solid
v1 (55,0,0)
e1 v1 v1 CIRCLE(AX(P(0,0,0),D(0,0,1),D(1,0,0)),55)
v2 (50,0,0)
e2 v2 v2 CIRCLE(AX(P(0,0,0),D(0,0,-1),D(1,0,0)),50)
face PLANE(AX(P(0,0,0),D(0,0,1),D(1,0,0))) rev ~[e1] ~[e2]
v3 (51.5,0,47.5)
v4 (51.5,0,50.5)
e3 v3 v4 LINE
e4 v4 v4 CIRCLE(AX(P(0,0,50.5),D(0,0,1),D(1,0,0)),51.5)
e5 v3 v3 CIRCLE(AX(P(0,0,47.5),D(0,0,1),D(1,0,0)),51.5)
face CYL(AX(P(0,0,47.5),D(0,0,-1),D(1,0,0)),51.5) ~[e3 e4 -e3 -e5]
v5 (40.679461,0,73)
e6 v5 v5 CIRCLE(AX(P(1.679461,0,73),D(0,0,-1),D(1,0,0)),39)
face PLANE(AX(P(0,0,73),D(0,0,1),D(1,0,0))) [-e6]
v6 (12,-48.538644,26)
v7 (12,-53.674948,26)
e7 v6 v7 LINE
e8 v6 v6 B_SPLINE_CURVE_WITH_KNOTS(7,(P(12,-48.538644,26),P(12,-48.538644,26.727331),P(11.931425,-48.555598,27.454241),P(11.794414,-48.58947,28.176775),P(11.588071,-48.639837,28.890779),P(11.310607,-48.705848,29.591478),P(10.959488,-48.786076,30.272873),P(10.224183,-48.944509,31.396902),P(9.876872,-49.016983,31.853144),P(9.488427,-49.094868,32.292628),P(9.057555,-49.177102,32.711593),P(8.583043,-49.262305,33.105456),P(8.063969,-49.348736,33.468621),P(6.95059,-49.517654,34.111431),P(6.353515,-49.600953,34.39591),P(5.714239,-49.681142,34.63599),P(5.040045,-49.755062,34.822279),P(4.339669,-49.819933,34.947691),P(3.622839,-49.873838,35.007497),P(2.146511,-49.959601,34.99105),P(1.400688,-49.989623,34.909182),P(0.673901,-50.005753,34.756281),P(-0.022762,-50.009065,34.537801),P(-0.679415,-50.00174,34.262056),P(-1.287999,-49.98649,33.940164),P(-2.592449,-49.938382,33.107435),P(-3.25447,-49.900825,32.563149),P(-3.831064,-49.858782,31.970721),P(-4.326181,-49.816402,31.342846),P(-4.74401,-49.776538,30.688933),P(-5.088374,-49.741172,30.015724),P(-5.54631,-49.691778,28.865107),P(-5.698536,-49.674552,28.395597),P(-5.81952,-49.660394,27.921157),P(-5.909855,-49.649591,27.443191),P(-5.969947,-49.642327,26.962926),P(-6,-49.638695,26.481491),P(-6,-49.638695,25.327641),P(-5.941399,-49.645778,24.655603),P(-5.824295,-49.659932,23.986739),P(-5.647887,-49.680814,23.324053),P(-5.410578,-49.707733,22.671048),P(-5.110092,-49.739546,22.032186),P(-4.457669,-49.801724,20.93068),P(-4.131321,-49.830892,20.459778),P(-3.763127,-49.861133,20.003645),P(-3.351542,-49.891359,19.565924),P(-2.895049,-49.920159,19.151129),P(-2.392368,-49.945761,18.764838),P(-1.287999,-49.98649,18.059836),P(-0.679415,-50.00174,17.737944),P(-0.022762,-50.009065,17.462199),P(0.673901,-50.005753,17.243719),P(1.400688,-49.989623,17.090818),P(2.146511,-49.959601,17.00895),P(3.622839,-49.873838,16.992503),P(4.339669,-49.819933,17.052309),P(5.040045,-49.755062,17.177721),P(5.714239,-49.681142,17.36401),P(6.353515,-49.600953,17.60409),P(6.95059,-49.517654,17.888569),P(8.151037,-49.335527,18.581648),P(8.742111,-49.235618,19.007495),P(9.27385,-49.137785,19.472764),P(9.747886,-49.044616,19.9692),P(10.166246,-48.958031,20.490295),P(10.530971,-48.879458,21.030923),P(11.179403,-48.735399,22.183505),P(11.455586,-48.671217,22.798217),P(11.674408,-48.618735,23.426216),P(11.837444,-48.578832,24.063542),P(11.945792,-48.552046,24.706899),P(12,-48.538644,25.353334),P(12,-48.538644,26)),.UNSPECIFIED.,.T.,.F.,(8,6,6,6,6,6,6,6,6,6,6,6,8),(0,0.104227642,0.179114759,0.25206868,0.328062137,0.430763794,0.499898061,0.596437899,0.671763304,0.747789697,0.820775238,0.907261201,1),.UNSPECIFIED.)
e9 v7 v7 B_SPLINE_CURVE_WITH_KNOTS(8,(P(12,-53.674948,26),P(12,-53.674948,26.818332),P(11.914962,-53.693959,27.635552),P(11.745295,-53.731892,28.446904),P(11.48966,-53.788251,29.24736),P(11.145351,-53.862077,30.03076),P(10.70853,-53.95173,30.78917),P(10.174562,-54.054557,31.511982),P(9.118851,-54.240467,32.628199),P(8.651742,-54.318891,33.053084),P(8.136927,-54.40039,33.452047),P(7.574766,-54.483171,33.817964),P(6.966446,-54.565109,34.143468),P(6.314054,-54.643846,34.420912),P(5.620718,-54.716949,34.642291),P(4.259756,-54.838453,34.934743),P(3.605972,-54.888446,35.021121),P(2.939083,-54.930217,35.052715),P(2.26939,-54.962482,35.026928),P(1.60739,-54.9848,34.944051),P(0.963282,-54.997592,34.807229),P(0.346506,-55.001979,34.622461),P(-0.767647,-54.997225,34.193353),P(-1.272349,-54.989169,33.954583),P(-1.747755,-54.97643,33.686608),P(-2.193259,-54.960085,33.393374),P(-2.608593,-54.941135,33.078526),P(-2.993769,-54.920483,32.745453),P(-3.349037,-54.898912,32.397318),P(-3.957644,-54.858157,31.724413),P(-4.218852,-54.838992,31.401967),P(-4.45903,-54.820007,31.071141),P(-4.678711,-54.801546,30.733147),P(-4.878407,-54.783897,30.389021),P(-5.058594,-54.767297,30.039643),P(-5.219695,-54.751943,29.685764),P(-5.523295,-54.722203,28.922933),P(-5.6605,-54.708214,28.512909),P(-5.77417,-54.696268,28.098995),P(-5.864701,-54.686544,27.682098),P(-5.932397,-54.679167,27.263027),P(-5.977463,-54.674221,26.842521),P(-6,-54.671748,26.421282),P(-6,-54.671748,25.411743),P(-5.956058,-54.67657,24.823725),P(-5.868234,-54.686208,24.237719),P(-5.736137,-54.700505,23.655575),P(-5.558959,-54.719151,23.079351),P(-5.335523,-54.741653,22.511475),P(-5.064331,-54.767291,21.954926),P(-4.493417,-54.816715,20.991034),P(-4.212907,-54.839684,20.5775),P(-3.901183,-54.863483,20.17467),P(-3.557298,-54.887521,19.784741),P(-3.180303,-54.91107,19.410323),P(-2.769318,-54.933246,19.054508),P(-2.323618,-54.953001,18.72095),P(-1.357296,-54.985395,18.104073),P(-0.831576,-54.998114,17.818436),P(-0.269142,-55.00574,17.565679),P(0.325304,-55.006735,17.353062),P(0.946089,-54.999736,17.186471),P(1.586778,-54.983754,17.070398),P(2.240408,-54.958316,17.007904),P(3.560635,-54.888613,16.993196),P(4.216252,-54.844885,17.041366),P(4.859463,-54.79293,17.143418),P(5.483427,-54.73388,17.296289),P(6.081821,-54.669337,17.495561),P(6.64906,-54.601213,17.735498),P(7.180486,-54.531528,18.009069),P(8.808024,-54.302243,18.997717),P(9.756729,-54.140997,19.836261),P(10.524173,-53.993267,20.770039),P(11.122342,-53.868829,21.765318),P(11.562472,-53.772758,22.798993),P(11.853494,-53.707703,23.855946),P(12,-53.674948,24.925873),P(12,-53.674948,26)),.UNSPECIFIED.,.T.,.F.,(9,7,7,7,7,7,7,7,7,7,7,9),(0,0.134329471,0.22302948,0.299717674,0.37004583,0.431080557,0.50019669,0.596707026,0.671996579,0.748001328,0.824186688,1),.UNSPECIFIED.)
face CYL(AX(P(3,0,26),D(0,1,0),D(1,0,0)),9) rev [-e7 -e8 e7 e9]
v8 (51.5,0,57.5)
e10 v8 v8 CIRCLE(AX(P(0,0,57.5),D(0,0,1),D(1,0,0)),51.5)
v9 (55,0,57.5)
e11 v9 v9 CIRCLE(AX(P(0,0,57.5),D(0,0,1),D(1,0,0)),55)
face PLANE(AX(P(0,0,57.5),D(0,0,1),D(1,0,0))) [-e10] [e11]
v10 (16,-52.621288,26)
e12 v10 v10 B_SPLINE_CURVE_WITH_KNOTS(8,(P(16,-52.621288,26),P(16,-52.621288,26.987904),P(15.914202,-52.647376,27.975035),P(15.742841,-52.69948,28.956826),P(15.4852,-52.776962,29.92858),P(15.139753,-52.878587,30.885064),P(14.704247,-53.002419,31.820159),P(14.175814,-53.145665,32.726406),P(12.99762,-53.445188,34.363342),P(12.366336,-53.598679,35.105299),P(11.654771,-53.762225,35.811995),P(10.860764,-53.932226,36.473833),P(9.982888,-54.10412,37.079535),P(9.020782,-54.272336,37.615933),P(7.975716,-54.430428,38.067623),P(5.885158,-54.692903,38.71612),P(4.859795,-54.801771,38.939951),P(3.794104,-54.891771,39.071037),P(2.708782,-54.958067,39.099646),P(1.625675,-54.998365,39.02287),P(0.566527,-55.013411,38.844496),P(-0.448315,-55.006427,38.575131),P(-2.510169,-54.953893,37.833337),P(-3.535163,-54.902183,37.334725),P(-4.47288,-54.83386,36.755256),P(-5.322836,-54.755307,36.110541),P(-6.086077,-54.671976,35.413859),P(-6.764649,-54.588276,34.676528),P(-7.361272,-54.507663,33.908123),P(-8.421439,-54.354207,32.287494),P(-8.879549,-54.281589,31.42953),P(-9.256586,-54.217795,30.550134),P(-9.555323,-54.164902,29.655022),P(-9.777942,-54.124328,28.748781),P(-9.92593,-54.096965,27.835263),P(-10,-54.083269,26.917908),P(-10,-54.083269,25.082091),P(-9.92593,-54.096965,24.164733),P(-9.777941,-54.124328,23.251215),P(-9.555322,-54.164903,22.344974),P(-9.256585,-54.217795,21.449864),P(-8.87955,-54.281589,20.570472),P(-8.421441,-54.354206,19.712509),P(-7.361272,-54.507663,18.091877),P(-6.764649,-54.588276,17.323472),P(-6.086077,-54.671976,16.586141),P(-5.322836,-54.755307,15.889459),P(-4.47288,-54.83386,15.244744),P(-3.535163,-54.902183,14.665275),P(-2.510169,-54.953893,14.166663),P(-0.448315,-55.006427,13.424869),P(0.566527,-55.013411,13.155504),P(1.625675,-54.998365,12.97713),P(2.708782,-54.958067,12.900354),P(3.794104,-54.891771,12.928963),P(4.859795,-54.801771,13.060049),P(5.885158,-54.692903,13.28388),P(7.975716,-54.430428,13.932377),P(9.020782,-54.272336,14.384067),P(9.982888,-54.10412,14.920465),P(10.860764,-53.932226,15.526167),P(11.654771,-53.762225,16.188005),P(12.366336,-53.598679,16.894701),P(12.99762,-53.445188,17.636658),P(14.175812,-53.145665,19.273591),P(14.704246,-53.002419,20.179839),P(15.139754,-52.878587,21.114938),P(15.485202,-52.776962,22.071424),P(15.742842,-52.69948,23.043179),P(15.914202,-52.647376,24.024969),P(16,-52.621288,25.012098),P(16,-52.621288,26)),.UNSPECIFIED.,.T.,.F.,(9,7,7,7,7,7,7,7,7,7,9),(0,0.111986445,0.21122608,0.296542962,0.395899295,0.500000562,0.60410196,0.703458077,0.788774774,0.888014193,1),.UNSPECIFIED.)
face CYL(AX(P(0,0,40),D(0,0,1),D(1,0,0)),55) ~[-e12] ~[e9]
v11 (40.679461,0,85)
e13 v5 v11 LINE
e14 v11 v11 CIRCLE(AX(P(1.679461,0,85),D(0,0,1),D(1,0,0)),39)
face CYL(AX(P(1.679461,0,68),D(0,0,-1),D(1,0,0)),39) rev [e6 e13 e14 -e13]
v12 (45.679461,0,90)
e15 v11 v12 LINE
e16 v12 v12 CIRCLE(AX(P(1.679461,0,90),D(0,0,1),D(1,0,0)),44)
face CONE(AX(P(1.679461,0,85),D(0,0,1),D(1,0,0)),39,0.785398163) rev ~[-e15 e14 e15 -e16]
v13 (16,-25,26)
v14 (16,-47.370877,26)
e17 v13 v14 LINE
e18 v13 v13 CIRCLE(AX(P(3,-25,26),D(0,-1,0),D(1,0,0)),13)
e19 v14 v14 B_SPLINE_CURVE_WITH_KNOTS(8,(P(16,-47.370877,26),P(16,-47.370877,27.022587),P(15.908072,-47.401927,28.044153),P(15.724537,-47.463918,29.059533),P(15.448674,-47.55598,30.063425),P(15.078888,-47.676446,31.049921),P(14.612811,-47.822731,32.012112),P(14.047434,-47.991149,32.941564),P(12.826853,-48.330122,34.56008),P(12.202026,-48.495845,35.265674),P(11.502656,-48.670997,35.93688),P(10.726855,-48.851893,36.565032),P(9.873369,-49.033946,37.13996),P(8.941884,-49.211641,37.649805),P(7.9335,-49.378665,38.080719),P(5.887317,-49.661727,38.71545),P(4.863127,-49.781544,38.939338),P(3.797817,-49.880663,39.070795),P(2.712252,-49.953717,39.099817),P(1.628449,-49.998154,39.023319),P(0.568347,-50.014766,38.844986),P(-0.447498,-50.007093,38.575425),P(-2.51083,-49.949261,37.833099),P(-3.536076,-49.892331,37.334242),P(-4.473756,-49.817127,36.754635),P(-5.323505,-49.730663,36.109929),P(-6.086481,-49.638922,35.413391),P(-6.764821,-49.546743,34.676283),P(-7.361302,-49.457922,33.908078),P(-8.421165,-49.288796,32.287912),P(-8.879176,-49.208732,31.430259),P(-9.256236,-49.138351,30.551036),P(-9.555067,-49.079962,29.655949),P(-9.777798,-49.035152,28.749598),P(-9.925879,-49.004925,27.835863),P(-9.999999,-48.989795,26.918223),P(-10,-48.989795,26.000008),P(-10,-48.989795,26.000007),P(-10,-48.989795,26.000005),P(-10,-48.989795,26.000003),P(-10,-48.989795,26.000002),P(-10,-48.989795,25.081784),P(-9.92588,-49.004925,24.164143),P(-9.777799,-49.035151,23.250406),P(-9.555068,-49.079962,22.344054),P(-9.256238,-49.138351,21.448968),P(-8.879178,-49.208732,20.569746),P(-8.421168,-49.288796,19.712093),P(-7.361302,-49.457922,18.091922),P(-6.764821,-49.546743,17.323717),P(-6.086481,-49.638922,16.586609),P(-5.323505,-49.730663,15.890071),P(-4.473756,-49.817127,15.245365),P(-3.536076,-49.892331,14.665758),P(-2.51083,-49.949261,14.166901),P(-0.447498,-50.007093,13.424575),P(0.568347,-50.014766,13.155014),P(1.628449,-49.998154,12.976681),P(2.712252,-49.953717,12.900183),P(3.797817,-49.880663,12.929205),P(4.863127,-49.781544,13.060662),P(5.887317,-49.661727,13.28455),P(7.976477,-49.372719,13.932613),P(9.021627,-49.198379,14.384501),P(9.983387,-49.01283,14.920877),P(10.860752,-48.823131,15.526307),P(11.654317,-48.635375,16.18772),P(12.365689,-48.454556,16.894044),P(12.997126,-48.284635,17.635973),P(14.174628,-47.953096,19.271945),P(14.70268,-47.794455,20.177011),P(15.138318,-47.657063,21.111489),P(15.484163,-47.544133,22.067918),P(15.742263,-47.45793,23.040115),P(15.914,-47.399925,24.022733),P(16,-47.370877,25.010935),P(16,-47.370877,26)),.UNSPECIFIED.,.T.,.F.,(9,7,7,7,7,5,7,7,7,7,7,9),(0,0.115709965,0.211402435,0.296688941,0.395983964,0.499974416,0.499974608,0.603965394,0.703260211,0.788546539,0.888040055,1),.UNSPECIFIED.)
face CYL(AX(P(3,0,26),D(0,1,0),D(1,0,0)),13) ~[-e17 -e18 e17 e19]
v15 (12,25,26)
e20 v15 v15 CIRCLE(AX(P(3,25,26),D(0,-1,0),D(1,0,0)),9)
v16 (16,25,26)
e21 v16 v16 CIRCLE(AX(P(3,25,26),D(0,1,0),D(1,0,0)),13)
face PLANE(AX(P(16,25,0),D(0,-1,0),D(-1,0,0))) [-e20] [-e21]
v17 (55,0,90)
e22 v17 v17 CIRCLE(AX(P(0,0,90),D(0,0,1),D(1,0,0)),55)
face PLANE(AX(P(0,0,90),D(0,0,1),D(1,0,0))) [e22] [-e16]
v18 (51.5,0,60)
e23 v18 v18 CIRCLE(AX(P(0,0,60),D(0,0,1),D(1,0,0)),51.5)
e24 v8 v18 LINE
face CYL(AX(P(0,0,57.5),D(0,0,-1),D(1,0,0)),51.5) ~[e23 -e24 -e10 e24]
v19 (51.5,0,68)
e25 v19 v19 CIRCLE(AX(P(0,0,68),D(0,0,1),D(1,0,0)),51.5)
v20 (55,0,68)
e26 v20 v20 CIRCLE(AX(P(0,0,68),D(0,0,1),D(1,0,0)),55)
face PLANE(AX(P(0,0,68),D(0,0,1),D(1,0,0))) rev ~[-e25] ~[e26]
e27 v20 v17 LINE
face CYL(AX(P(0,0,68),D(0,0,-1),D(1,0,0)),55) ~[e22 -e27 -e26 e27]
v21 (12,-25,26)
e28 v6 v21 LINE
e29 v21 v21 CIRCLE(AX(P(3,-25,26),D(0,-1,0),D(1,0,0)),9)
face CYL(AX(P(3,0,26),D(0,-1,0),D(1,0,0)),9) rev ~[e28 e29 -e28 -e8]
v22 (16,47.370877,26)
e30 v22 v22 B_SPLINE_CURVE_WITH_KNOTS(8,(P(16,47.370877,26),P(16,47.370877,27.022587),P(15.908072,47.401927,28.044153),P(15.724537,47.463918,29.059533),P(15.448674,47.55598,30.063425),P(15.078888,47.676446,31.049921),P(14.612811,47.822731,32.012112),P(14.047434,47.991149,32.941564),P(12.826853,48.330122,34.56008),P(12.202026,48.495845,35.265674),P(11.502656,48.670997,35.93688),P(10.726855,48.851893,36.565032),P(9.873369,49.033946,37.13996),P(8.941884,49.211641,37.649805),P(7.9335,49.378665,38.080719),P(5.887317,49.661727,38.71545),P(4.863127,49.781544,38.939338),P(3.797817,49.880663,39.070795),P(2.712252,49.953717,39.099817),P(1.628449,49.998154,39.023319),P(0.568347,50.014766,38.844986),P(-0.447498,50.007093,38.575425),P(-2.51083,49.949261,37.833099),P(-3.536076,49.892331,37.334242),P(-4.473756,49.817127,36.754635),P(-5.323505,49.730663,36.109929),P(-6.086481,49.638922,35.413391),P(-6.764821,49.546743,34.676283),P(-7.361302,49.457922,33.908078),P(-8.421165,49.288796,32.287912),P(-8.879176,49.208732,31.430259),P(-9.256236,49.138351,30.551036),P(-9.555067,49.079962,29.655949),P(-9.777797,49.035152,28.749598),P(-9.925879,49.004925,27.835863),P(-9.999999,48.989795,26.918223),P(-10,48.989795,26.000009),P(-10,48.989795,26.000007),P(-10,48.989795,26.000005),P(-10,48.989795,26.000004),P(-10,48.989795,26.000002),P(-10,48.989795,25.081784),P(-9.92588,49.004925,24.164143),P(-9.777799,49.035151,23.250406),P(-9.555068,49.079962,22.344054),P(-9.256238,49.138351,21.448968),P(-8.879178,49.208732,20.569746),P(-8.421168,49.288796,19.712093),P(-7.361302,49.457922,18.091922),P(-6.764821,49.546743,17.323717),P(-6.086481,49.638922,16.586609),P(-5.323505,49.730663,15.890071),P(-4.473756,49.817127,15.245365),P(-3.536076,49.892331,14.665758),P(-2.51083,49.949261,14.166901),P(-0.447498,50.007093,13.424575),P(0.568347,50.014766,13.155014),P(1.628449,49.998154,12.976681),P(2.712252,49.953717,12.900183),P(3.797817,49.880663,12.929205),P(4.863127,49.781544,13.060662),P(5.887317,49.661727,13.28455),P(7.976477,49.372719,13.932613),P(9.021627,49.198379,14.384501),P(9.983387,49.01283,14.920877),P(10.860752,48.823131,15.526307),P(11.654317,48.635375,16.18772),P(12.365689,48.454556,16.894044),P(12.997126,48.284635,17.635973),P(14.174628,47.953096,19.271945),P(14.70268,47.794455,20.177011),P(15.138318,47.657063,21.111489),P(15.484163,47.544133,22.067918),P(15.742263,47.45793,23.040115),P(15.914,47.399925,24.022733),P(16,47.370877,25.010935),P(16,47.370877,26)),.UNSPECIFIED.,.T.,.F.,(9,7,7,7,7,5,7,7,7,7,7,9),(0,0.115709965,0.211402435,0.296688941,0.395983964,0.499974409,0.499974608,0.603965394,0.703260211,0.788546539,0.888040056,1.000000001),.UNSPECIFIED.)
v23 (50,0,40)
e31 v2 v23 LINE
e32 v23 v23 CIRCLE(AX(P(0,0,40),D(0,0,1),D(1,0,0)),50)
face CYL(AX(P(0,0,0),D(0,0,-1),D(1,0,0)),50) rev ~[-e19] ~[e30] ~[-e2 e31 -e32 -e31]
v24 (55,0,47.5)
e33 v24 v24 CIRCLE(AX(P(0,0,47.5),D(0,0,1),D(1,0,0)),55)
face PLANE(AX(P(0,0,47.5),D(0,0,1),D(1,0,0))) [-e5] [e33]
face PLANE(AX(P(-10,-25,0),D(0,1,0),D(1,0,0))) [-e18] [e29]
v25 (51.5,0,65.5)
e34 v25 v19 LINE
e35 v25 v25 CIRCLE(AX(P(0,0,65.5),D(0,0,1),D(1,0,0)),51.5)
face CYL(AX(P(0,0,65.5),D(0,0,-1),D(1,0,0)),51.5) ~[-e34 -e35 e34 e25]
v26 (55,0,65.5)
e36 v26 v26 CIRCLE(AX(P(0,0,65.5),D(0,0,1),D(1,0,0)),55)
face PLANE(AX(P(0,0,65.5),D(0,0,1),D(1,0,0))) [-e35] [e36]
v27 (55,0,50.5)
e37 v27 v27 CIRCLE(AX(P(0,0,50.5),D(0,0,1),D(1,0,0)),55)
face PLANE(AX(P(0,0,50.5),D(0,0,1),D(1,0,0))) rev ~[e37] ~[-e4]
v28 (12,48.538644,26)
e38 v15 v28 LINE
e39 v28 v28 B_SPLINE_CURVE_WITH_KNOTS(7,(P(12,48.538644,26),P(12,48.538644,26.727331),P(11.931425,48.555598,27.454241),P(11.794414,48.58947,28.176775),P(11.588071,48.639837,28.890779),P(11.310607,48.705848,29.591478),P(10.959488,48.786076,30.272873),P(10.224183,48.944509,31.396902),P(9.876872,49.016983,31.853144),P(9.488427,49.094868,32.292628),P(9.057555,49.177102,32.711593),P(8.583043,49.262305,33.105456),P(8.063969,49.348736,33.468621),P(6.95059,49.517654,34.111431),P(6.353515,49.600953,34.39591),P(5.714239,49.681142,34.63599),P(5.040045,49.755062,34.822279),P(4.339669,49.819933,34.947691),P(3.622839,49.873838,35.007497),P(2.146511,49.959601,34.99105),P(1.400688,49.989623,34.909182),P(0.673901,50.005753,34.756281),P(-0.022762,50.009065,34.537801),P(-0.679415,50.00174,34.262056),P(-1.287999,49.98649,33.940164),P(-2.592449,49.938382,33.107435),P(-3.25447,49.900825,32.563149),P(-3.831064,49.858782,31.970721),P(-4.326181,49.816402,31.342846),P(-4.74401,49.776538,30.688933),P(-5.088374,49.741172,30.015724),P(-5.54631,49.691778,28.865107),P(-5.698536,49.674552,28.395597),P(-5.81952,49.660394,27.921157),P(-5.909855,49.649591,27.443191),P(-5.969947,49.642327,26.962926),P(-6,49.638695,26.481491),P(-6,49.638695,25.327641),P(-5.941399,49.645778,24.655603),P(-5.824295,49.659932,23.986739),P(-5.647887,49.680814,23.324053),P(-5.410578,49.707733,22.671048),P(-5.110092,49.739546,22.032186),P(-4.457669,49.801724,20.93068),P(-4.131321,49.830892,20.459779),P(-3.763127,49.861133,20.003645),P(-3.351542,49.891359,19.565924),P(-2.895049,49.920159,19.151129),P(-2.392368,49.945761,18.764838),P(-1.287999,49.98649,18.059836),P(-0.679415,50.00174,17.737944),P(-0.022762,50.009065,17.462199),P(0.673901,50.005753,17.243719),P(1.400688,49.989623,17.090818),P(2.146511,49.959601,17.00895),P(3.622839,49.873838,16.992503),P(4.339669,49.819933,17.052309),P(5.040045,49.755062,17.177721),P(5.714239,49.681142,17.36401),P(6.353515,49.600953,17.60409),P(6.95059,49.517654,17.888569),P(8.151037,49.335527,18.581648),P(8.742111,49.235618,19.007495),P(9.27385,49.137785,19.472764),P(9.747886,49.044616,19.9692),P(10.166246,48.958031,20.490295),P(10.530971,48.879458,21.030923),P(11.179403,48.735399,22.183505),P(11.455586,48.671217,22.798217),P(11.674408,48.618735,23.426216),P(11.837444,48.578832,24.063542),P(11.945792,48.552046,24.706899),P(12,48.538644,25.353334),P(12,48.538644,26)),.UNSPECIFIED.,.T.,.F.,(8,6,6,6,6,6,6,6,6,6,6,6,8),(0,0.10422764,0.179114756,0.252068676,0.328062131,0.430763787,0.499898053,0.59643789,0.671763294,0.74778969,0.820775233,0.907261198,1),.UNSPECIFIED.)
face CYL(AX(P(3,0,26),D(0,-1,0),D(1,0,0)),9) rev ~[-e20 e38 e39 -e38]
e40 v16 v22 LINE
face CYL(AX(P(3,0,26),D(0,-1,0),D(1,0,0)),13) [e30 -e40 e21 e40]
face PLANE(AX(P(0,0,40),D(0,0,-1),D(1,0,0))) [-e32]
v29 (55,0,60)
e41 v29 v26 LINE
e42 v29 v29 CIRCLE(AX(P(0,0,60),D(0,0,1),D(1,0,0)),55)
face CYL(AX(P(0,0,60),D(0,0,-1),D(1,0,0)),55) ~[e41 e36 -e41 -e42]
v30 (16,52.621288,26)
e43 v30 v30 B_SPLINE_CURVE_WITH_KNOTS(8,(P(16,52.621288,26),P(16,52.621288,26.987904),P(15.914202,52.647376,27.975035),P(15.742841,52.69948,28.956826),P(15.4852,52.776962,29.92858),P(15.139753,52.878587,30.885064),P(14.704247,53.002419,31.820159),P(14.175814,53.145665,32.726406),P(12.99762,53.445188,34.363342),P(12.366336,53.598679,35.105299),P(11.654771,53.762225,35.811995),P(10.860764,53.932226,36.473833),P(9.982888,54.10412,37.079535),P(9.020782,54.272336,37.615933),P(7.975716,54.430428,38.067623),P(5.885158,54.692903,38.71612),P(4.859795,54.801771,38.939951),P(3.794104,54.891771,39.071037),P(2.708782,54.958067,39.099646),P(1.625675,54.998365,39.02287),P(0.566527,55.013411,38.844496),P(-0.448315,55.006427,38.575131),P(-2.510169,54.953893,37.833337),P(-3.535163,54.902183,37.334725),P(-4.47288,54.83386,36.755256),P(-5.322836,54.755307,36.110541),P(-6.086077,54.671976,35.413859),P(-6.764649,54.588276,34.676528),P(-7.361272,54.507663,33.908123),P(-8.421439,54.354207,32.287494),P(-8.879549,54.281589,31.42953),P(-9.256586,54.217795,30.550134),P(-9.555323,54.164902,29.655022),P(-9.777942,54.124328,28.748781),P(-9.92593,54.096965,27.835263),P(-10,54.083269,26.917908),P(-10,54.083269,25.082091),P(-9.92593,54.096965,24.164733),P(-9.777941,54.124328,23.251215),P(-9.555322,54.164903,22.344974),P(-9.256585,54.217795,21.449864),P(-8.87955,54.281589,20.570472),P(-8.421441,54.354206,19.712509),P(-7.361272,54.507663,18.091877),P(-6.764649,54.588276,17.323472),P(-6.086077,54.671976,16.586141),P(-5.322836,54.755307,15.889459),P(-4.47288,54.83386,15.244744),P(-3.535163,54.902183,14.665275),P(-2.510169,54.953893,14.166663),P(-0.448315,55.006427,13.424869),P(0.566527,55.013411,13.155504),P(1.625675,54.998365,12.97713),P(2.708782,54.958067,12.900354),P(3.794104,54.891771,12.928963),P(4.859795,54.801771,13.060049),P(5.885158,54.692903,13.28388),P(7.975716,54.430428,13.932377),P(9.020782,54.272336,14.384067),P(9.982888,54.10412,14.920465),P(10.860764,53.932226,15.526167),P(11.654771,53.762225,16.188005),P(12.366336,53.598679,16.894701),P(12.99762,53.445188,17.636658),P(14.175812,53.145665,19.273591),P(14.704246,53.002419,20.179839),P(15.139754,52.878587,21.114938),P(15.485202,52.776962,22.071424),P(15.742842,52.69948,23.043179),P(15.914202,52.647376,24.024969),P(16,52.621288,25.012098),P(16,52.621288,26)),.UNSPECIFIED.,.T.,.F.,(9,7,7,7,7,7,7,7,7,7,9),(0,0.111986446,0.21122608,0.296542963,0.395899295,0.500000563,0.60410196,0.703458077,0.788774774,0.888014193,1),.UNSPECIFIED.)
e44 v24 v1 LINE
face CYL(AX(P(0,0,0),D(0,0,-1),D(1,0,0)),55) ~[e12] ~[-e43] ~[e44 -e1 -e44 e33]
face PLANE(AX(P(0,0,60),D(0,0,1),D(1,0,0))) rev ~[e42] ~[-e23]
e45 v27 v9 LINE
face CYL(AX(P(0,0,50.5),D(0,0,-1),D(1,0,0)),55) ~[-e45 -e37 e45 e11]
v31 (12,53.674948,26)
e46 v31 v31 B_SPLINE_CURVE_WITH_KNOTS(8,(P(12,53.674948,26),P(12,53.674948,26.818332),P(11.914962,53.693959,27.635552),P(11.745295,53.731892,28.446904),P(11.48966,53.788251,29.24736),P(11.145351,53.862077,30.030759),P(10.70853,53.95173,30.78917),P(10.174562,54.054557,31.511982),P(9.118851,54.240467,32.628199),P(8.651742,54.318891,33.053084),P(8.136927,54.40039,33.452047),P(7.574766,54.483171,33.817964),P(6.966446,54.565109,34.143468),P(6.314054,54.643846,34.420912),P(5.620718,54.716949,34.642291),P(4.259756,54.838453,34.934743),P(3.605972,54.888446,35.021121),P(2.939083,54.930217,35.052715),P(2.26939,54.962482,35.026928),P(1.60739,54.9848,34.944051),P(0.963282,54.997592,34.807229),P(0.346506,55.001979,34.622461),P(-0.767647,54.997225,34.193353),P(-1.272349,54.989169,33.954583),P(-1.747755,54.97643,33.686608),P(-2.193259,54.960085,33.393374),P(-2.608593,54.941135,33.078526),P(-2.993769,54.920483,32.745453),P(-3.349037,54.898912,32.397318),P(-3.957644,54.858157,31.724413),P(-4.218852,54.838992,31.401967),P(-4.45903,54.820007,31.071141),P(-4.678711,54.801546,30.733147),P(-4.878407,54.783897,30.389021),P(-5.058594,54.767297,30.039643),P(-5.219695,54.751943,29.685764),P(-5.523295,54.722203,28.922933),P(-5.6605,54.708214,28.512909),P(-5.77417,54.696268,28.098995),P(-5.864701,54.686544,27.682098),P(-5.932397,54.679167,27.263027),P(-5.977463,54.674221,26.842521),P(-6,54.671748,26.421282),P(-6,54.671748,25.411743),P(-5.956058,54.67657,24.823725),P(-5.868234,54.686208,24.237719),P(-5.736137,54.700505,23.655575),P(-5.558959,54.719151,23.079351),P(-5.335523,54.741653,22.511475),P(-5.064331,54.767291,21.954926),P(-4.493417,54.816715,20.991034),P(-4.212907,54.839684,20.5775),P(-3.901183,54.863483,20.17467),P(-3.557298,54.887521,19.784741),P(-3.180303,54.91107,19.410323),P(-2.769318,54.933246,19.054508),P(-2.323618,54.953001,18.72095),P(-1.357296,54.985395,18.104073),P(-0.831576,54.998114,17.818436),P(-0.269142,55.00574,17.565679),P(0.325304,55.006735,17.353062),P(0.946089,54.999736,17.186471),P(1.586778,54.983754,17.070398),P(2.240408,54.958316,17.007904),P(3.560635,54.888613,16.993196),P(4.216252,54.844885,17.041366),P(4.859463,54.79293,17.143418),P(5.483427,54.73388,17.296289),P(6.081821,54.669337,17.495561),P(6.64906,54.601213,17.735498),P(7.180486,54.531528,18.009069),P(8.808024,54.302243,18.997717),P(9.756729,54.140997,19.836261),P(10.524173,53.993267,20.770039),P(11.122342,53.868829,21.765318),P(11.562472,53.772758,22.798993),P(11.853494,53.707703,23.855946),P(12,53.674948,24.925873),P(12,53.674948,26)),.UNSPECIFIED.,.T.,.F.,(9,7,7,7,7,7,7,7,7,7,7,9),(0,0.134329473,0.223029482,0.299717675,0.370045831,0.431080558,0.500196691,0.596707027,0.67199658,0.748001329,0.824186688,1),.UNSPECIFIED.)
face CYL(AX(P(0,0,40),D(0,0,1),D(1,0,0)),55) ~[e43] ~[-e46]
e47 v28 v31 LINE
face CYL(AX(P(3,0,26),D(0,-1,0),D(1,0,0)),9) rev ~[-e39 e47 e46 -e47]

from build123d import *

# Parameters (mm, degrees)
F0_R           = 55
F1_DEPTH       = 47.5
F2_R           = 51.5
F3_DEPTH       = 3
F4_R           = 55
F5_DEPTH       = 7
F6_R           = 51.5
F7_DEPTH       = 2.5
F8_R           = 55
F9_DEPTH       = 5.5
F10_R          = 51.5
F11_DEPTH      = 2.5
F12_R          = 55
F12_R_2        = 39
F13_DEPTH      = 22
F14_R          = 50
F15_DEPTH      = 40
F16_R          = 43.5007627275
F17_DEPTH      = 5
F18_SIZE       = 5
F19_R          = 13
F19_R_2        = 9
F20_DEPTH      = 62
F20_DEPTH_BACK = 70.1
F21_R          = 9
F22_DEPTH      = 75.8
F22_DEPTH_BACK = 99.3
F24_DEPTH      = 40
F25_R          = 82.1696032424
F25_R_2        = 55
F26_DEPTH      = 32.2


with BuildPart() as f1:
    # F0 (on Top) → F1 (new body)
    with BuildSketch(Plane.XY):
        Circle(F0_R)
    extrude(amount=F1_DEPTH)

    # F2 (on face) → F3 (join)
    with BuildSketch(Plane.XY.offset(47.5)):
        Circle(F2_R)
    extrude(amount=F3_DEPTH)

    # F4 (on face) → F5 (join)
    with BuildSketch(Plane.XY.offset(50.5)):
        Circle(F4_R)
    extrude(amount=F5_DEPTH)

    # F6 (on face) → F7 (join)
    with BuildSketch(Plane.XY.offset(57.5)):
        Circle(F6_R)
    extrude(amount=F7_DEPTH)

    # F8 (on face) → F9 (join)
    with BuildSketch(Plane.XY.offset(60)):
        Circle(F8_R)
    extrude(amount=F9_DEPTH)

    # F10 (on face) → F11 (join)
    with BuildSketch(Plane.XY.offset(65.5)):
        Circle(F10_R)
    extrude(amount=F11_DEPTH)

    # F12 (on face) → F13 (join)
    with BuildSketch(Plane.XY.offset(68)):
        Circle(F12_R)
        with Locations((1.679461333, 0)):
            Circle(F12_R_2, mode=Mode.SUBTRACT)
    extrude(amount=F13_DEPTH)

    # F14 (on face) → F15 (cut)
    with BuildSketch(Plane(origin=(0, 0, 0), x_dir=(1, 0, 0), z_dir=(0, 0, -1))):
        Circle(F14_R)
    extrude(amount=-F15_DEPTH, mode=Mode.SUBTRACT)

    # F16 (on face) → F17 (join)
    with BuildSketch(Plane.XY.offset(68)):
        Circle(F16_R)
    extrude(amount=F17_DEPTH)

    # F18
    f18_edges = [f1.edges().sort_by_distance(p)[0] for p in [
        (-37.320539, 0, 90),
    ]]
    chamfer(f18_edges, length=F18_SIZE)

    # F19 (on Front) → F20 (join, two sides)
    with BuildSketch(Plane.XZ) as f20_sk:
        with Locations((3, 26)):
            Circle(F19_R)
        with Locations((3, 26)):
            Circle(F19_R_2, mode=Mode.SUBTRACT)
    extrude(amount=F20_DEPTH)
    extrude(f20_sk.sketch, amount=-F20_DEPTH_BACK)

    # F21 (on Front) → F22 (cut, two sides)
    with BuildSketch(Plane.XZ) as f22_sk:
        with Locations((3, 26)):
            Circle(F21_R)
    extrude(amount=-F22_DEPTH, mode=Mode.SUBTRACT)
    extrude(f22_sk.sketch, amount=F22_DEPTH_BACK, mode=Mode.SUBTRACT)

    # F23 (on Top) → F24 (cut)
    with BuildSketch(Plane.XY):
        with BuildLine():
            Line((-10, 25), (-10, 48.9897948557))
            ThreePointArc((-10, 48.9897948557), (-50, 0), (-10, -48.9897948557))
            Line((-10, -48.9897948557), (-10, -25))
            Line((-10, -25), (16, -25))
            Line((16, -25), (16, -47.3708771293))
            ThreePointArc((16, -47.3708771293), (50, 0), (16, 47.3708771293))
            Line((16, 47.3708771293), (16, 25))
            Line((16, 25), (-10, 25))
        make_face()
    extrude(amount=F24_DEPTH, mode=Mode.SUBTRACT)

    # F25 (on face) → F26 (cut)
    with BuildSketch(Plane(origin=(0, 0, 40), x_dir=(1, 0, 0), z_dir=(0, 0, -1))):
        with Locations((0, -2.1747821011)):
            Circle(F25_R)
        Circle(F25_R_2, mode=Mode.SUBTRACT)
    extrude(amount=F26_DEPTH, mode=Mode.SUBTRACT)


solid = f1.part
